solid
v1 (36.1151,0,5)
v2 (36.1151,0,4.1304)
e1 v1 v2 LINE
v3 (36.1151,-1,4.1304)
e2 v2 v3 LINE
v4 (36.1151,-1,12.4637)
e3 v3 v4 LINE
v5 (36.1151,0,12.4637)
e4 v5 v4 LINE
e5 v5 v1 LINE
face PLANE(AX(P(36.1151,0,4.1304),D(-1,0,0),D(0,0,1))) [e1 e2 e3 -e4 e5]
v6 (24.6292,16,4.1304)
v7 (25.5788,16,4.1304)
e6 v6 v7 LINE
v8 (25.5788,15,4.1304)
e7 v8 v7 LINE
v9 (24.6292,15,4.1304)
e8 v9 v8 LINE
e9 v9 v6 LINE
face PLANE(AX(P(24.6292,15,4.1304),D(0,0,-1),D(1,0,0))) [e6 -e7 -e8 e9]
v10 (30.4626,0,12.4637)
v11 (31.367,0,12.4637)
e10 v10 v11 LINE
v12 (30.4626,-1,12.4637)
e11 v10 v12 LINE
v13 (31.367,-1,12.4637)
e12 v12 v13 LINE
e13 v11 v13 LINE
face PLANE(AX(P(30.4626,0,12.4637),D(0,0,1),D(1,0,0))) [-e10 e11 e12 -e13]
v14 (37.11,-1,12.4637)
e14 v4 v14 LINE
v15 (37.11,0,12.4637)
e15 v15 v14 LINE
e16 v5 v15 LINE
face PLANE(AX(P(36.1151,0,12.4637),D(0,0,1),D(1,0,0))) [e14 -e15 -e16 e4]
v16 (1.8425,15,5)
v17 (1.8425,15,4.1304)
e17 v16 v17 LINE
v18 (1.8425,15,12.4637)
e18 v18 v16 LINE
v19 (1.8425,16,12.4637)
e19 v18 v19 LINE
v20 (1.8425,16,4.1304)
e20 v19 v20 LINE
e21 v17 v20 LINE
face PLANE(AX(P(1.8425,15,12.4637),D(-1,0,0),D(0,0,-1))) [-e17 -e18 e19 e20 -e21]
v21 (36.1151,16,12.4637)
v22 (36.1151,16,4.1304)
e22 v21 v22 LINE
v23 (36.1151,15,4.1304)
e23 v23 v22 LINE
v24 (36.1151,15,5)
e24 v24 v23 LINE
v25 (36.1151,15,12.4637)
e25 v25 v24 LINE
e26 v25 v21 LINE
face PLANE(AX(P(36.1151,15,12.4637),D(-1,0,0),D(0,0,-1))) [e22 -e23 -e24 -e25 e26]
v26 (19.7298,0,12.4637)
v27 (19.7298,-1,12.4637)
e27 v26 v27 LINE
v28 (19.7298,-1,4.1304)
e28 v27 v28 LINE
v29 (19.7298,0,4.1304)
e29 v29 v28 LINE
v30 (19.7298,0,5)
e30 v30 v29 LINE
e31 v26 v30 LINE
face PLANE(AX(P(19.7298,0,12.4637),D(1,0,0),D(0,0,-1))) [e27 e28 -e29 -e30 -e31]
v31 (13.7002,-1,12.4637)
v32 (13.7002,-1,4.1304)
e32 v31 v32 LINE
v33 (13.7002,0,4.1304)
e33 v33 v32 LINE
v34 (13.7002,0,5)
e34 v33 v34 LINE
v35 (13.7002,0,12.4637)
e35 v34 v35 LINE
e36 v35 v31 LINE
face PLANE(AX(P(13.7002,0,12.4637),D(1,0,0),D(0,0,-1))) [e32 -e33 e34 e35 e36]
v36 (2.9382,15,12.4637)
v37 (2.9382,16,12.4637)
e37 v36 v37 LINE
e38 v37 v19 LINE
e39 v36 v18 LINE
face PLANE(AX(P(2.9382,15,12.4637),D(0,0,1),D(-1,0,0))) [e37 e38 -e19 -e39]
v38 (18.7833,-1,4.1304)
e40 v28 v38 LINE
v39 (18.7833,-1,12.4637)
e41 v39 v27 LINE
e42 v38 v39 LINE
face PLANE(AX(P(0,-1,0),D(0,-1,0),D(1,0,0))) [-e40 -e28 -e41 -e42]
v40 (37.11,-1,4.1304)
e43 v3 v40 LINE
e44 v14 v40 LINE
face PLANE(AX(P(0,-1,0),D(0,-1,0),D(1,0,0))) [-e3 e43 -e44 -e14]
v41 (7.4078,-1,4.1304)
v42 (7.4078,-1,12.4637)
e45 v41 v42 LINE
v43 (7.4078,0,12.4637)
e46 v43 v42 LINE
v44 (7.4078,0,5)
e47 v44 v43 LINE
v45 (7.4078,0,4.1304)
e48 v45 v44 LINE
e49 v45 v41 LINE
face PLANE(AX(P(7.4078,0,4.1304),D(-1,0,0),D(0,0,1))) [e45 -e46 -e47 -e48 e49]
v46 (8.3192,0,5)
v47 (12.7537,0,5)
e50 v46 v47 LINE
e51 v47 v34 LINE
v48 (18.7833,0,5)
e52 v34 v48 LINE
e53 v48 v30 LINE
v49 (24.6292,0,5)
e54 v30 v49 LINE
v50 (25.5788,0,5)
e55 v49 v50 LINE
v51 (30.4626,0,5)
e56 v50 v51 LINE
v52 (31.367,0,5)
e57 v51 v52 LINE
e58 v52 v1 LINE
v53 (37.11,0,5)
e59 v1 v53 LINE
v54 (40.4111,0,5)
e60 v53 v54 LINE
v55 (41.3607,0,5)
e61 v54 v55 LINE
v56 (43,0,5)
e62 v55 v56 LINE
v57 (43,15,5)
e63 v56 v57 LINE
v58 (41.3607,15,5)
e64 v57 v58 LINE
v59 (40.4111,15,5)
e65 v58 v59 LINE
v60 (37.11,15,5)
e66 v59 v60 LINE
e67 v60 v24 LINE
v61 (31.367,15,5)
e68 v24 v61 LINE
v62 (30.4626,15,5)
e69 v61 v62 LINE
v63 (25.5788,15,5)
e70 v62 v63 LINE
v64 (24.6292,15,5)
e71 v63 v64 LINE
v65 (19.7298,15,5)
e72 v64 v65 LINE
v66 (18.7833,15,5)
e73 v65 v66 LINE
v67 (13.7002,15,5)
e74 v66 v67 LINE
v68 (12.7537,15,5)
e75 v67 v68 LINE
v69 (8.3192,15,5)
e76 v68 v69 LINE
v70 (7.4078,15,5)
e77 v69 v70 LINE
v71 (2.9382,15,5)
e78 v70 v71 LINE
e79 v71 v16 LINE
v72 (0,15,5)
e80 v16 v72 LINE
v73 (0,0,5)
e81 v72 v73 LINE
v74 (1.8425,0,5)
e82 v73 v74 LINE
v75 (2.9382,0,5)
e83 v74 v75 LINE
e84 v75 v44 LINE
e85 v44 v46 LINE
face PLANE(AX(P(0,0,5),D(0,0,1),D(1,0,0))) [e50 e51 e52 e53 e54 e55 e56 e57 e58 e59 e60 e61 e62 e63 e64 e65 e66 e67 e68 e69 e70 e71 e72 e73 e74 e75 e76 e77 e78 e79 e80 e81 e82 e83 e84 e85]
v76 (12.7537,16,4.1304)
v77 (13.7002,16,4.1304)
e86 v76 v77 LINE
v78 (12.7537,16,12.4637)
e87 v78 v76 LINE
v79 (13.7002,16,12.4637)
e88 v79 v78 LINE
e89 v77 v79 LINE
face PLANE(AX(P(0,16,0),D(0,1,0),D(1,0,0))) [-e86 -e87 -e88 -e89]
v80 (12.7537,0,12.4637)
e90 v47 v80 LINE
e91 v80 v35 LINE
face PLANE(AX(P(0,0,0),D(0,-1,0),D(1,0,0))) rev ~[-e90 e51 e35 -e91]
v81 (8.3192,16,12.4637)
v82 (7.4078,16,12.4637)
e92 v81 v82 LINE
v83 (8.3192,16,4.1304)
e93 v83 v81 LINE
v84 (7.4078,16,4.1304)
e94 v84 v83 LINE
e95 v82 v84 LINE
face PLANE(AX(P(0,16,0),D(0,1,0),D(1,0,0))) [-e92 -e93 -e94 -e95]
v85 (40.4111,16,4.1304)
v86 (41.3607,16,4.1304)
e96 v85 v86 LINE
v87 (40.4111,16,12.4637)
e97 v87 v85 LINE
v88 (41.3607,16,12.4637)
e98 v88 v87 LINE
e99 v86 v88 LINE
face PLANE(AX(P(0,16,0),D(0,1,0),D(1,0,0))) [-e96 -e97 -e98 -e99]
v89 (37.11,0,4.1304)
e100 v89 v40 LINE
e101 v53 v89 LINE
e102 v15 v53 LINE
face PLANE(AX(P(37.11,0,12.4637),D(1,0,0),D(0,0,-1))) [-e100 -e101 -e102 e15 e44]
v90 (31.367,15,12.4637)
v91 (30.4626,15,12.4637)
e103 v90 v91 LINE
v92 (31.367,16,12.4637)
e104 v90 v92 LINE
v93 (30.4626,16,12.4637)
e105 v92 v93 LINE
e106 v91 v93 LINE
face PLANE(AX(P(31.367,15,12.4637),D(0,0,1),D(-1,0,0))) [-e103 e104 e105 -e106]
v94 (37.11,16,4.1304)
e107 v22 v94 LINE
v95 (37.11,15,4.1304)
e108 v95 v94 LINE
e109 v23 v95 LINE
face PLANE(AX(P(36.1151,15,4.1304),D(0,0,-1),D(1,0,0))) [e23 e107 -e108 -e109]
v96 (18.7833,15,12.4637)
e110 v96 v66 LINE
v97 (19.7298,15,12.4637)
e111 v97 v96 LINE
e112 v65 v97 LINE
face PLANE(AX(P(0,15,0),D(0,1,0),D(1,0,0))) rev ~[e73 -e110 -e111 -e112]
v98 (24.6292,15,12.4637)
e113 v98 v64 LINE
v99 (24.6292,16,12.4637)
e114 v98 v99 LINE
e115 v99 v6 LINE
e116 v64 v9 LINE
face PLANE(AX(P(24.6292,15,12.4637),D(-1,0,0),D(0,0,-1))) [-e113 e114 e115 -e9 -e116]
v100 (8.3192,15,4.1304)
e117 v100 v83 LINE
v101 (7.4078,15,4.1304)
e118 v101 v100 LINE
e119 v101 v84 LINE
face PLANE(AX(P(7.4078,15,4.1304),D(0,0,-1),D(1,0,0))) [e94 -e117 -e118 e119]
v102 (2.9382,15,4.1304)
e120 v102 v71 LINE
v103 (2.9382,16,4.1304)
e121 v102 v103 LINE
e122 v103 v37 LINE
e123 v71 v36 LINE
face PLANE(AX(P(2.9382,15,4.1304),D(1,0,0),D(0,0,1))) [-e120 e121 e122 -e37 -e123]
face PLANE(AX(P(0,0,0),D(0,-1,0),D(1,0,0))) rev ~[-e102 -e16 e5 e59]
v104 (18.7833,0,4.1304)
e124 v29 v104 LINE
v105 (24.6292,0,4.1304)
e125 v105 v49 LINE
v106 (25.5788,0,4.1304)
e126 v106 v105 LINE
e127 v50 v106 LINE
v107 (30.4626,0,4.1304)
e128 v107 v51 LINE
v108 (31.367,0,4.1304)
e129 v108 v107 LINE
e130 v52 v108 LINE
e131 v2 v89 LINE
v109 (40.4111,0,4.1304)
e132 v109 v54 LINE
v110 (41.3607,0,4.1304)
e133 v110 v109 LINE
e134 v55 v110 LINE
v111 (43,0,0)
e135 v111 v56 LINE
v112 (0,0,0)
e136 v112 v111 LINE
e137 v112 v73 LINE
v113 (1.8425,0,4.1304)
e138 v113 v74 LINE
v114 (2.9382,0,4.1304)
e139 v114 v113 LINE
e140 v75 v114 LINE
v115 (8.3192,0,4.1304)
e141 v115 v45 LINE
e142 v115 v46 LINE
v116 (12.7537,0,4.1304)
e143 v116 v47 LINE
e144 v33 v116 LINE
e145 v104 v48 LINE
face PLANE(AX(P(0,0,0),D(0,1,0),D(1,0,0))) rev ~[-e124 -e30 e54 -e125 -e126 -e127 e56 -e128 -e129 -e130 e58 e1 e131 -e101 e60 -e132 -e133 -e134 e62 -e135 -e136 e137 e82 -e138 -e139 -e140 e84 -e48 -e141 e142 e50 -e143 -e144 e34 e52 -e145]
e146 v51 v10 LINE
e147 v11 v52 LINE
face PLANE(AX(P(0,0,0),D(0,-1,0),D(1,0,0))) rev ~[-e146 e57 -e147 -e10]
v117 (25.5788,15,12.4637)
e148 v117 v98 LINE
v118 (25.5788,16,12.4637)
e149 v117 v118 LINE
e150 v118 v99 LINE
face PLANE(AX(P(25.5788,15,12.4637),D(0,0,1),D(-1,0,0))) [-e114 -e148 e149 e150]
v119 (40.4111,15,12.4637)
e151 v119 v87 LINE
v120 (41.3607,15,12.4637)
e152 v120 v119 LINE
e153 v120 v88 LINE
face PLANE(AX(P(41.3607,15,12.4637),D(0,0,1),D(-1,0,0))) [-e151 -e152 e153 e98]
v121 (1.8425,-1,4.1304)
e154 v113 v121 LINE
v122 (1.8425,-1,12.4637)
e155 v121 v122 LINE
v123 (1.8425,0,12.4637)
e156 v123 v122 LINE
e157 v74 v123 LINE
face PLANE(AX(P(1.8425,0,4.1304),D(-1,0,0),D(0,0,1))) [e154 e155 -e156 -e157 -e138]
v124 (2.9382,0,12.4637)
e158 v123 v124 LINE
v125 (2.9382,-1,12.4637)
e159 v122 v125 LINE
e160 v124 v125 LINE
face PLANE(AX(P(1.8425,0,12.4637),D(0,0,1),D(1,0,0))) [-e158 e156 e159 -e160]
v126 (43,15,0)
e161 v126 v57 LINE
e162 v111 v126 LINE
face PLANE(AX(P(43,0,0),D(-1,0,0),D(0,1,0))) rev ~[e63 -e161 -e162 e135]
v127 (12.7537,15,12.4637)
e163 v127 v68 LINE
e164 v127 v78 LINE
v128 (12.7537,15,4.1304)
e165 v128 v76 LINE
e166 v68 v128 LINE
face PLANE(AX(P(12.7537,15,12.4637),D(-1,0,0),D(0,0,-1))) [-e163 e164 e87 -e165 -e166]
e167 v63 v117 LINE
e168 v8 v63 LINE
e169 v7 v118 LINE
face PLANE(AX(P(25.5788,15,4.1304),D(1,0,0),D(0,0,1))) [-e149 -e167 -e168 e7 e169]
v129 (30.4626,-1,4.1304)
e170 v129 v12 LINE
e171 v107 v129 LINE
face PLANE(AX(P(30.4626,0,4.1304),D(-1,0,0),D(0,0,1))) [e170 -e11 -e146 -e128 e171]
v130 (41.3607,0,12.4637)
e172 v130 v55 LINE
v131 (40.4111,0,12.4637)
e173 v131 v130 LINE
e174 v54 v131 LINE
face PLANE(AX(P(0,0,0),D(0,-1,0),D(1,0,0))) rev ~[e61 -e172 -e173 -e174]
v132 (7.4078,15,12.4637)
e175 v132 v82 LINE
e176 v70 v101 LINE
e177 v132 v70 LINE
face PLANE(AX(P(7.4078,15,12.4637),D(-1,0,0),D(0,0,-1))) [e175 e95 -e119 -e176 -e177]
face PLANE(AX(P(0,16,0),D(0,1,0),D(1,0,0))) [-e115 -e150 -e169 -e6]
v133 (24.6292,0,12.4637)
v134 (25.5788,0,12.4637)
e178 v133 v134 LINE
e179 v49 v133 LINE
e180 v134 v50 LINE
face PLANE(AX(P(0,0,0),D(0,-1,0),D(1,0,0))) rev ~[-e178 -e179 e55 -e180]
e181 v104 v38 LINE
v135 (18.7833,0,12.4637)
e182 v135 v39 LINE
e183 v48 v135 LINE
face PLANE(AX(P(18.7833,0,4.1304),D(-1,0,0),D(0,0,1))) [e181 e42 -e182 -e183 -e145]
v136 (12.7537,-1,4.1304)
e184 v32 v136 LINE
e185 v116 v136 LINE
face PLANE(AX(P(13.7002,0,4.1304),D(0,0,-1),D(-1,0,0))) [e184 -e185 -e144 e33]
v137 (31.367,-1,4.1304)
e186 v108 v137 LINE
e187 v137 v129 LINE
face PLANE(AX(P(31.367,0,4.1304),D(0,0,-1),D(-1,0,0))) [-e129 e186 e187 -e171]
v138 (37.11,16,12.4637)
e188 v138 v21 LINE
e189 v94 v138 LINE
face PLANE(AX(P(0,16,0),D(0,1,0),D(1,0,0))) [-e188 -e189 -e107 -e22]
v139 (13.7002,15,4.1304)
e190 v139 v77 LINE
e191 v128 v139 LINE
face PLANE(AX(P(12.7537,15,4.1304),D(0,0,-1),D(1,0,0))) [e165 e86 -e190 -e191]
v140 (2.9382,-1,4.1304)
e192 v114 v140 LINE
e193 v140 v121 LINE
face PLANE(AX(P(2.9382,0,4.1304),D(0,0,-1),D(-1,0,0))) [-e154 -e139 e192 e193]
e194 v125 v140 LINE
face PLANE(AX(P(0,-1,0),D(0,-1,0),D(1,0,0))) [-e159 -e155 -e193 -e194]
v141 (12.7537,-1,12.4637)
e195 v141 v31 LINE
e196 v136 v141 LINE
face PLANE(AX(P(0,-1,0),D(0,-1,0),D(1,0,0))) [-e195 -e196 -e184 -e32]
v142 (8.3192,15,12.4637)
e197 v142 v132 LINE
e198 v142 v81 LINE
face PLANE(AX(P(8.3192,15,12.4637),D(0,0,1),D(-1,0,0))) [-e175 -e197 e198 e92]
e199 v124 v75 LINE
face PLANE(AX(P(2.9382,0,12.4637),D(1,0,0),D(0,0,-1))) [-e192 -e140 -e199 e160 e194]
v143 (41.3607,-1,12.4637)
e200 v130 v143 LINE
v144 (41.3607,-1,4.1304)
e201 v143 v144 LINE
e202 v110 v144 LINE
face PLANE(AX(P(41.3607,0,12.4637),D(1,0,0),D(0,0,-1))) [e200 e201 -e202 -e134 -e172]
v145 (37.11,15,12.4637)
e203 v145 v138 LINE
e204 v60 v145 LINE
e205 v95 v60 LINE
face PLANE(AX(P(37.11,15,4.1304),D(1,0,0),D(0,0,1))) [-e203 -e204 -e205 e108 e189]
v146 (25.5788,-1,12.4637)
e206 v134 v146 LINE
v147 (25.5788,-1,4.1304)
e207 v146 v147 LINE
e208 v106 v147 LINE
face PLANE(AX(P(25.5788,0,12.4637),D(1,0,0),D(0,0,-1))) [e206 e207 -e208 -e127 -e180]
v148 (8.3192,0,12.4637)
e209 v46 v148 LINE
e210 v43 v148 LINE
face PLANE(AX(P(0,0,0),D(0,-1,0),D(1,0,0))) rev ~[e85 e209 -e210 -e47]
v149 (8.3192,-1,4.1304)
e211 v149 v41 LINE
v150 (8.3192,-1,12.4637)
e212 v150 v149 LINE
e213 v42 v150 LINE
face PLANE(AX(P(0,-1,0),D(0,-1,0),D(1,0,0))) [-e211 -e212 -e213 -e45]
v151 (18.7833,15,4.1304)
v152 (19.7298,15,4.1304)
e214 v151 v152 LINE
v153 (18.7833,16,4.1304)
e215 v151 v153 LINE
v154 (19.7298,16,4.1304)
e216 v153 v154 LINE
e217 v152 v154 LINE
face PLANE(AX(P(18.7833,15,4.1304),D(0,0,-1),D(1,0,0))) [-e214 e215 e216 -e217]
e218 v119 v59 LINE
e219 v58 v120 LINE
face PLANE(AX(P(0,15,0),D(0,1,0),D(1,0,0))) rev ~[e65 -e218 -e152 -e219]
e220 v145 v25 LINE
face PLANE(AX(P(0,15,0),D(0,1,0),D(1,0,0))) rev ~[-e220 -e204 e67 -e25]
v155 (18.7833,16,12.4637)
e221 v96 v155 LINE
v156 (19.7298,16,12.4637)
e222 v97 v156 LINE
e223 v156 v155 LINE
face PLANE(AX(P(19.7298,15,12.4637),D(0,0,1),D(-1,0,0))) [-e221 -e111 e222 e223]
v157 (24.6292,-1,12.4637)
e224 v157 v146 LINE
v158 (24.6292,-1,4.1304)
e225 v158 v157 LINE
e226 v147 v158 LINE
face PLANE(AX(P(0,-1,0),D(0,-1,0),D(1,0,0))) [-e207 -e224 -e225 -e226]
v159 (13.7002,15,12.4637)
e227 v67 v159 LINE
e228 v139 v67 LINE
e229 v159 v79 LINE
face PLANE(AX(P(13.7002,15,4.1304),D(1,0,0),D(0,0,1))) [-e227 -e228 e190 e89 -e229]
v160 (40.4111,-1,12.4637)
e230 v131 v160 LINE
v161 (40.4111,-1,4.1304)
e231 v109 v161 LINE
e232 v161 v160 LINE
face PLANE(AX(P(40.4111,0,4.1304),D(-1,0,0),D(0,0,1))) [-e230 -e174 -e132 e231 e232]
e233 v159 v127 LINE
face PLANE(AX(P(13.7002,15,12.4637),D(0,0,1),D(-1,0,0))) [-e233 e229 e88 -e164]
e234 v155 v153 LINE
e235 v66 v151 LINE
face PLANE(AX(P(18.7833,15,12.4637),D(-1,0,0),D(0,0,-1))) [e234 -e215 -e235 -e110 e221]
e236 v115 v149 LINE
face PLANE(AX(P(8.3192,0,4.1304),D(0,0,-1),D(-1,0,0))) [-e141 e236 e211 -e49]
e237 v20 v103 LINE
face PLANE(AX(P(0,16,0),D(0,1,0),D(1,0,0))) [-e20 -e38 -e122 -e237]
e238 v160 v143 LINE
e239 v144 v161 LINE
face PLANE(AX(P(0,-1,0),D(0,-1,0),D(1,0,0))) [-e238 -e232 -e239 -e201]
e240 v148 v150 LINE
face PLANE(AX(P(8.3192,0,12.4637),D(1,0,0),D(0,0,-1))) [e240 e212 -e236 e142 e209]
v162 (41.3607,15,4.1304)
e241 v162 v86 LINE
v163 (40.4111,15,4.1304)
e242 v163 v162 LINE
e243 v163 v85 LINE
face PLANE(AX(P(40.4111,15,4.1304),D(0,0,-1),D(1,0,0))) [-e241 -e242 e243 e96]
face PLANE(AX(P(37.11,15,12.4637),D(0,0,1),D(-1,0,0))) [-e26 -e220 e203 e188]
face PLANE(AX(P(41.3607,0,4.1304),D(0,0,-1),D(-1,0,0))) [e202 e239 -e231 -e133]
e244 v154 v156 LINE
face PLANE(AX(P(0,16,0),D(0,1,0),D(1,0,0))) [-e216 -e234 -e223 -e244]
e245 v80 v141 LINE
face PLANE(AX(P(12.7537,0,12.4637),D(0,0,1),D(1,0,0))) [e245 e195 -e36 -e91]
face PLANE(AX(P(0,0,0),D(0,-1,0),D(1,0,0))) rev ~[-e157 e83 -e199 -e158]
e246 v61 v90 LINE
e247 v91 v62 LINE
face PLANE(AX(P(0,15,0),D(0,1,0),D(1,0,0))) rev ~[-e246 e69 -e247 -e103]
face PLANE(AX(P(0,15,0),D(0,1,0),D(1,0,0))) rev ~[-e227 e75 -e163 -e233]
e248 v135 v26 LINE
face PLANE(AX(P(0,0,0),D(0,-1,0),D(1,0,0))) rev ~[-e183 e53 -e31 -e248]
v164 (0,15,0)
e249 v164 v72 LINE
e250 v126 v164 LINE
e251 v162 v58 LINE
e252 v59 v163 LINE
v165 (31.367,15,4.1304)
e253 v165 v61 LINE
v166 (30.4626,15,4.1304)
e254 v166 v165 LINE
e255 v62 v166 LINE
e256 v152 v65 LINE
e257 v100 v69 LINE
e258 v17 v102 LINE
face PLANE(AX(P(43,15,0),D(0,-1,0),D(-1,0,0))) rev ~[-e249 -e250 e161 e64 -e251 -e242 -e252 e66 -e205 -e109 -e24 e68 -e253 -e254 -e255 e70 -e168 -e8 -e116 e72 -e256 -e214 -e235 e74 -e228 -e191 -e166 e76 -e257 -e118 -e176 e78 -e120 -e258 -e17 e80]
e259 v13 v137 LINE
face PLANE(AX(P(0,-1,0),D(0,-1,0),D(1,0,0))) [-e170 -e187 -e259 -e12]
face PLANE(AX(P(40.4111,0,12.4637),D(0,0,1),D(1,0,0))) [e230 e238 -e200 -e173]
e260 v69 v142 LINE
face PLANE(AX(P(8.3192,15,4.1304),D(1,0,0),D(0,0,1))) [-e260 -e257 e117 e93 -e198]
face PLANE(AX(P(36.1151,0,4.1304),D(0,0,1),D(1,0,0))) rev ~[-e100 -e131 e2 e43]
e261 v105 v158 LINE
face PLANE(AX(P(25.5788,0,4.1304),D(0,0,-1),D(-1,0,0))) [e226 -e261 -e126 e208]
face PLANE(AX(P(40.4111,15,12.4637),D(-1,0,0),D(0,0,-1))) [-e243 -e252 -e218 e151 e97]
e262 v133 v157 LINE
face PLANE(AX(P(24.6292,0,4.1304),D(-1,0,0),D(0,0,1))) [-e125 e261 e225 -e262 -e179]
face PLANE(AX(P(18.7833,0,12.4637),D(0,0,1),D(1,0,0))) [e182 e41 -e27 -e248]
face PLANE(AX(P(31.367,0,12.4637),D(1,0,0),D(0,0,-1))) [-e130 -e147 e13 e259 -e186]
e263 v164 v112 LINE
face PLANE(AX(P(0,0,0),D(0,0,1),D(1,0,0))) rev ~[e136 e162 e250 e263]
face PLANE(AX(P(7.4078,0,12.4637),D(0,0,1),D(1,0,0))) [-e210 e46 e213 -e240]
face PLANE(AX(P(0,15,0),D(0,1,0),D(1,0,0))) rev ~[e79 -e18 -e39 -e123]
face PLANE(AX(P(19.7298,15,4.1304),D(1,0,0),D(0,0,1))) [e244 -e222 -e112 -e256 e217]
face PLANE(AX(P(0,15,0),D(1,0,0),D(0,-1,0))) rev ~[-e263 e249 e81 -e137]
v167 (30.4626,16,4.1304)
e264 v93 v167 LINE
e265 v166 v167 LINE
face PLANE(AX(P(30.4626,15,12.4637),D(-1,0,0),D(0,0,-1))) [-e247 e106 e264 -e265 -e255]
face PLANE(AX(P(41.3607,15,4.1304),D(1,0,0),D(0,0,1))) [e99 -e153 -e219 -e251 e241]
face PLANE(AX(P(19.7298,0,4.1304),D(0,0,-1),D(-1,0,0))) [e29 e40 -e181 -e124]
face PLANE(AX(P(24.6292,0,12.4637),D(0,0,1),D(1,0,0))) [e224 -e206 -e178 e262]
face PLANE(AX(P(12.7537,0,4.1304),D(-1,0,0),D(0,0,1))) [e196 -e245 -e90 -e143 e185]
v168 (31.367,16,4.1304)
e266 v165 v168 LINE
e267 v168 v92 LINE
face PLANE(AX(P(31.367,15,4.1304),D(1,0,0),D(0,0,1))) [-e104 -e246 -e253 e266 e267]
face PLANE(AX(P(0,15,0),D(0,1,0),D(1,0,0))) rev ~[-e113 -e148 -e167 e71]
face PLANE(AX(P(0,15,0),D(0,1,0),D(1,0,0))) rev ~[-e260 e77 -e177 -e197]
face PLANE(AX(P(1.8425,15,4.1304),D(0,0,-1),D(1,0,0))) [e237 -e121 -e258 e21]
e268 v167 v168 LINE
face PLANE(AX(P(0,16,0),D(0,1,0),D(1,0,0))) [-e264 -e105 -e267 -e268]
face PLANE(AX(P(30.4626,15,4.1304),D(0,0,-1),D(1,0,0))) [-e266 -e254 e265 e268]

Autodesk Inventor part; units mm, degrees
ref_plane "YZ Plane" through (0, 0, 0) normal (1, 0, 0) x (0, 1, 0)
ref_plane "XZ Plane" through (0, 0, 0) normal (0, 1, 0) x (-1, 0, 0)
ref_plane "XY Plane" through (0, 0, 0) normal (0, 0, 1) x (1, 0, 0)
sketch "Sketch1" plane through (0, 0, 0) normal (0, 0, 1) x (1, 0, 0)
  line L0 (0, 0) -> (43, 0)
  line L1 (43, 0) -> (43, 15)
  line L2 (43, 15) -> (0, 15)
  line L3 (0, 15) -> (0, 0)
  dimension "d0" = 43
  dimension "d1" = 15
extrude "Extrusion1" add sketch "Sketch1" along normal blind 5
sketch "Sketch2" plane through (0, 15, 0) normal (0, 1, 0) x (1, 0, 0)
  point P0 (0, 0)
sketch "Sketch3" plane through (0, 15, 0) normal (0, 1, 0) x (1, 0, 0)
  line L0 (1.8425, -12.4637) -> (1.8425, -4.1304)
  line L1 (1.8425, -4.1304) -> (2.9382, -4.1304)
  line L2 (2.9382, -4.1304) -> (2.9382, -12.4637)
  line L3 (2.9382, -12.4637) -> (1.8425, -12.4637)
  line L4 (1.8425, -12.4637) -> (1.8425, -4.1304)
  line L5 (7.4078, -4.1304) -> (8.3192, -4.1304)
  line L6 (8.3192, -4.1304) -> (8.3192, -12.4637)
  line L7 (8.3192, -12.4637) -> (7.4078, -12.4637)
  line L8 (7.4078, -12.4637) -> (7.4078, -4.1304)
  line L9 (12.7537, -4.1304) -> (13.7002, -4.1304)
  line L10 (13.7002, -4.1304) -> (13.7002, -12.4637)
  line L11 (13.7002, -12.4637) -> (12.7537, -12.4637)
  line L12 (12.7537, -12.4637) -> (12.7537, -4.1304)
  line L13 (18.7833, -4.1304) -> (19.7298, -4.1304)
  line L14 (19.7298, -4.1304) -> (19.7298, -12.4637)
  line L15 (19.7298, -12.4637) -> (18.7833, -12.4637)
  line L16 (18.7833, -12.4637) -> (18.7833, -4.1304)
  line L17 (24.6292, -4.1304) -> (25.5788, -4.1304)
  line L18 (25.5788, -4.1304) -> (25.5788, -12.4637)
  line L19 (25.5788, -12.4637) -> (24.6292, -12.4637)
  line L20 (24.6292, -12.4637) -> (24.6292, -4.1304)
  line L21 (30.4626, -4.1304) -> (31.367, -4.1304)
  line L22 (31.367, -4.1304) -> (31.367, -12.4637)
  line L23 (31.367, -12.4637) -> (30.4626, -12.4637)
  line L24 (30.4626, -12.4637) -> (30.4626, -4.1304)
  line L25 (36.1151, -4.1304) -> (37.11, -4.1304)
  line L26 (37.11, -4.1304) -> (37.11, -12.4637)
  line L27 (37.11, -12.4637) -> (36.1151, -12.4637)
  line L28 (36.1151, -12.4637) -> (36.1151, -4.1304)
  line L29 (40.4111, -4.1304) -> (41.3607, -4.1304)
  line L30 (41.3607, -4.1304) -> (41.3607, -12.4637)
  line L31 (41.3607, -12.4637) -> (40.4111, -12.4637)
  line L32 (40.4111, -12.4637) -> (40.4111, -4.1304)
  line L33 (1.8425, -4.1304) -> (2.9382, -4.1304)
  line L34 (7.4078, -4.1304) -> (8.3192, -4.1304)
  line L35 (12.7537, -4.1304) -> (13.7002, -4.1304)
  line L36 (18.7833, -4.1304) -> (19.7298, -4.1304)
  line L37 (24.6292, -4.1304) -> (25.5788, -4.1304)
  line L38 (30.4626, -4.1304) -> (31.367, -4.1304)
  line L39 (36.1151, -4.1304) -> (37.11, -4.1304)
  line L40 (40.4111, -4.1304) -> (41.3607, -4.1304)
  line L41 (41.3607, -12.4637) -> (40.4111, -12.4637)
  line L42 (37.11, -12.4637) -> (36.1151, -12.4637)
  line L43 (31.367, -12.4637) -> (30.4626, -12.4637)
  line L44 (25.5788, -12.4637) -> (24.6292, -12.4637)
  line L45 (19.7298, -12.4637) -> (18.7833, -12.4637)
  line L46 (13.7002, -12.4637) -> (12.7537, -12.4637)
  line L47 (8.3192, -12.4637) -> (7.4078, -12.4637)
  line L48 (2.9382, -12.4637) -> (1.8425, -12.4637)
  point P0 (0, 0)
extrude "Extrusion2" add sketch "Sketch3" along normal blind 1
sketch "Sketch4" plane through (0, 0, 0) normal (0, -1, 0) x (1, 0, 0)
  line L0 (41.3607, 4.1304) -> (40.4111, 4.1304) projected
  line L1 (40.4111, 4.1304) -> (40.4111, 12.4637) projected
  line L2 (41.3607, 4.1304) -> (40.4111, 4.1304)
  line L3 (40.4111, 4.1304) -> (40.4111, 12.4637)
  line L4 (40.4111, 12.4637) -> (41.3607, 12.4637)
  line L5 (41.3607, 12.4637) -> (41.3607, 4.1304)
  line L6 (36.1151, 4.1304) -> (37.11, 4.1304) projected
  line L7 (36.1151, 5) -> (36.1151, 12.4637) projected
  line L8 (37.11, 4.1304) -> (36.1151, 4.1304)
  line L9 (36.1151, 4.1304) -> (36.1151, 12.4637)
  line L10 (36.1151, 12.4637) -> (37.11, 12.4637)
  line L11 (37.11, 12.4637) -> (37.11, 4.1304)
  line L12 (30.4626, 4.1304) -> (30.4626, 12.4637) projected
  line L13 (31.367, 4.1304) -> (30.4626, 4.1304)
  line L14 (30.4626, 4.1304) -> (30.4626, 12.4637)
  line L15 (30.4626, 12.4637) -> (31.367, 12.4637)
  line L16 (31.367, 12.4637) -> (31.367, 4.1304)
  line L17 (25.5788, 4.1304) -> (24.6292, 4.1304) projected
  line L18 (24.6292, 4.1304) -> (24.6292, 12.4637) projected
  line L19 (25.5788, 4.1304) -> (24.6292, 4.1304)
  line L20 (24.6292, 4.1304) -> (24.6292, 12.4637)
  line L21 (24.6292, 12.4637) -> (25.5788, 12.4637)
  line L22 (25.5788, 12.4637) -> (25.5788, 4.1304)
  line L23 (19.7298, 12.4637) -> (19.7298, 4.1304) projected
  line L24 (18.7833, 4.1304) -> (18.7833, 12.4637) projected
  line L25 (19.7298, 4.1304) -> (18.7833, 4.1304)
  line L26 (18.7833, 4.1304) -> (18.7833, 12.4637)
  line L27 (18.7833, 12.4637) -> (19.7298, 12.4637)
  line L28 (19.7298, 12.4637) -> (19.7298, 4.1304)
  line L29 (13.7002, 4.1304) -> (13.7002, 5) projected
  line L30 (12.7537, 4.1304) -> (12.7537, 12.4637) projected
  line L31 (13.7002, 4.1304) -> (12.7537, 4.1304)
  line L32 (12.7537, 4.1304) -> (12.7537, 12.4637)
  line L33 (12.7537, 12.4637) -> (13.7002, 12.4637)
  line L34 (13.7002, 12.4637) -> (13.7002, 4.1304)
  line L35 (8.3192, 4.1304) -> (8.3192, 5) projected
  line L36 (7.4078, 4.1304) -> (7.4078, 12.4637) projected
  line L37 (8.3192, 4.1304) -> (7.4078, 4.1304)
  line L38 (7.4078, 4.1304) -> (7.4078, 12.4637)
  line L39 (7.4078, 12.4637) -> (8.3192, 12.4637)
  line L40 (8.3192, 12.4637) -> (8.3192, 4.1304)
  line L41 (2.9382, 4.1304) -> (1.8425, 4.1304) projected
  line L42 (1.8425, 4.1304) -> (1.8425, 12.4637) projected
  line L43 (2.9382, 4.1304) -> (1.8425, 4.1304)
  line L44 (1.8425, 4.1304) -> (1.8425, 12.4637)
  line L45 (1.8425, 12.4637) -> (2.9382, 12.4637)
  line L46 (2.9382, 12.4637) -> (2.9382, 4.1304)
  point P0 (0, 0)
extrude "Extrusion3" add sketch "Sketch4" along normal blind 1
properties part number "hbridge"
